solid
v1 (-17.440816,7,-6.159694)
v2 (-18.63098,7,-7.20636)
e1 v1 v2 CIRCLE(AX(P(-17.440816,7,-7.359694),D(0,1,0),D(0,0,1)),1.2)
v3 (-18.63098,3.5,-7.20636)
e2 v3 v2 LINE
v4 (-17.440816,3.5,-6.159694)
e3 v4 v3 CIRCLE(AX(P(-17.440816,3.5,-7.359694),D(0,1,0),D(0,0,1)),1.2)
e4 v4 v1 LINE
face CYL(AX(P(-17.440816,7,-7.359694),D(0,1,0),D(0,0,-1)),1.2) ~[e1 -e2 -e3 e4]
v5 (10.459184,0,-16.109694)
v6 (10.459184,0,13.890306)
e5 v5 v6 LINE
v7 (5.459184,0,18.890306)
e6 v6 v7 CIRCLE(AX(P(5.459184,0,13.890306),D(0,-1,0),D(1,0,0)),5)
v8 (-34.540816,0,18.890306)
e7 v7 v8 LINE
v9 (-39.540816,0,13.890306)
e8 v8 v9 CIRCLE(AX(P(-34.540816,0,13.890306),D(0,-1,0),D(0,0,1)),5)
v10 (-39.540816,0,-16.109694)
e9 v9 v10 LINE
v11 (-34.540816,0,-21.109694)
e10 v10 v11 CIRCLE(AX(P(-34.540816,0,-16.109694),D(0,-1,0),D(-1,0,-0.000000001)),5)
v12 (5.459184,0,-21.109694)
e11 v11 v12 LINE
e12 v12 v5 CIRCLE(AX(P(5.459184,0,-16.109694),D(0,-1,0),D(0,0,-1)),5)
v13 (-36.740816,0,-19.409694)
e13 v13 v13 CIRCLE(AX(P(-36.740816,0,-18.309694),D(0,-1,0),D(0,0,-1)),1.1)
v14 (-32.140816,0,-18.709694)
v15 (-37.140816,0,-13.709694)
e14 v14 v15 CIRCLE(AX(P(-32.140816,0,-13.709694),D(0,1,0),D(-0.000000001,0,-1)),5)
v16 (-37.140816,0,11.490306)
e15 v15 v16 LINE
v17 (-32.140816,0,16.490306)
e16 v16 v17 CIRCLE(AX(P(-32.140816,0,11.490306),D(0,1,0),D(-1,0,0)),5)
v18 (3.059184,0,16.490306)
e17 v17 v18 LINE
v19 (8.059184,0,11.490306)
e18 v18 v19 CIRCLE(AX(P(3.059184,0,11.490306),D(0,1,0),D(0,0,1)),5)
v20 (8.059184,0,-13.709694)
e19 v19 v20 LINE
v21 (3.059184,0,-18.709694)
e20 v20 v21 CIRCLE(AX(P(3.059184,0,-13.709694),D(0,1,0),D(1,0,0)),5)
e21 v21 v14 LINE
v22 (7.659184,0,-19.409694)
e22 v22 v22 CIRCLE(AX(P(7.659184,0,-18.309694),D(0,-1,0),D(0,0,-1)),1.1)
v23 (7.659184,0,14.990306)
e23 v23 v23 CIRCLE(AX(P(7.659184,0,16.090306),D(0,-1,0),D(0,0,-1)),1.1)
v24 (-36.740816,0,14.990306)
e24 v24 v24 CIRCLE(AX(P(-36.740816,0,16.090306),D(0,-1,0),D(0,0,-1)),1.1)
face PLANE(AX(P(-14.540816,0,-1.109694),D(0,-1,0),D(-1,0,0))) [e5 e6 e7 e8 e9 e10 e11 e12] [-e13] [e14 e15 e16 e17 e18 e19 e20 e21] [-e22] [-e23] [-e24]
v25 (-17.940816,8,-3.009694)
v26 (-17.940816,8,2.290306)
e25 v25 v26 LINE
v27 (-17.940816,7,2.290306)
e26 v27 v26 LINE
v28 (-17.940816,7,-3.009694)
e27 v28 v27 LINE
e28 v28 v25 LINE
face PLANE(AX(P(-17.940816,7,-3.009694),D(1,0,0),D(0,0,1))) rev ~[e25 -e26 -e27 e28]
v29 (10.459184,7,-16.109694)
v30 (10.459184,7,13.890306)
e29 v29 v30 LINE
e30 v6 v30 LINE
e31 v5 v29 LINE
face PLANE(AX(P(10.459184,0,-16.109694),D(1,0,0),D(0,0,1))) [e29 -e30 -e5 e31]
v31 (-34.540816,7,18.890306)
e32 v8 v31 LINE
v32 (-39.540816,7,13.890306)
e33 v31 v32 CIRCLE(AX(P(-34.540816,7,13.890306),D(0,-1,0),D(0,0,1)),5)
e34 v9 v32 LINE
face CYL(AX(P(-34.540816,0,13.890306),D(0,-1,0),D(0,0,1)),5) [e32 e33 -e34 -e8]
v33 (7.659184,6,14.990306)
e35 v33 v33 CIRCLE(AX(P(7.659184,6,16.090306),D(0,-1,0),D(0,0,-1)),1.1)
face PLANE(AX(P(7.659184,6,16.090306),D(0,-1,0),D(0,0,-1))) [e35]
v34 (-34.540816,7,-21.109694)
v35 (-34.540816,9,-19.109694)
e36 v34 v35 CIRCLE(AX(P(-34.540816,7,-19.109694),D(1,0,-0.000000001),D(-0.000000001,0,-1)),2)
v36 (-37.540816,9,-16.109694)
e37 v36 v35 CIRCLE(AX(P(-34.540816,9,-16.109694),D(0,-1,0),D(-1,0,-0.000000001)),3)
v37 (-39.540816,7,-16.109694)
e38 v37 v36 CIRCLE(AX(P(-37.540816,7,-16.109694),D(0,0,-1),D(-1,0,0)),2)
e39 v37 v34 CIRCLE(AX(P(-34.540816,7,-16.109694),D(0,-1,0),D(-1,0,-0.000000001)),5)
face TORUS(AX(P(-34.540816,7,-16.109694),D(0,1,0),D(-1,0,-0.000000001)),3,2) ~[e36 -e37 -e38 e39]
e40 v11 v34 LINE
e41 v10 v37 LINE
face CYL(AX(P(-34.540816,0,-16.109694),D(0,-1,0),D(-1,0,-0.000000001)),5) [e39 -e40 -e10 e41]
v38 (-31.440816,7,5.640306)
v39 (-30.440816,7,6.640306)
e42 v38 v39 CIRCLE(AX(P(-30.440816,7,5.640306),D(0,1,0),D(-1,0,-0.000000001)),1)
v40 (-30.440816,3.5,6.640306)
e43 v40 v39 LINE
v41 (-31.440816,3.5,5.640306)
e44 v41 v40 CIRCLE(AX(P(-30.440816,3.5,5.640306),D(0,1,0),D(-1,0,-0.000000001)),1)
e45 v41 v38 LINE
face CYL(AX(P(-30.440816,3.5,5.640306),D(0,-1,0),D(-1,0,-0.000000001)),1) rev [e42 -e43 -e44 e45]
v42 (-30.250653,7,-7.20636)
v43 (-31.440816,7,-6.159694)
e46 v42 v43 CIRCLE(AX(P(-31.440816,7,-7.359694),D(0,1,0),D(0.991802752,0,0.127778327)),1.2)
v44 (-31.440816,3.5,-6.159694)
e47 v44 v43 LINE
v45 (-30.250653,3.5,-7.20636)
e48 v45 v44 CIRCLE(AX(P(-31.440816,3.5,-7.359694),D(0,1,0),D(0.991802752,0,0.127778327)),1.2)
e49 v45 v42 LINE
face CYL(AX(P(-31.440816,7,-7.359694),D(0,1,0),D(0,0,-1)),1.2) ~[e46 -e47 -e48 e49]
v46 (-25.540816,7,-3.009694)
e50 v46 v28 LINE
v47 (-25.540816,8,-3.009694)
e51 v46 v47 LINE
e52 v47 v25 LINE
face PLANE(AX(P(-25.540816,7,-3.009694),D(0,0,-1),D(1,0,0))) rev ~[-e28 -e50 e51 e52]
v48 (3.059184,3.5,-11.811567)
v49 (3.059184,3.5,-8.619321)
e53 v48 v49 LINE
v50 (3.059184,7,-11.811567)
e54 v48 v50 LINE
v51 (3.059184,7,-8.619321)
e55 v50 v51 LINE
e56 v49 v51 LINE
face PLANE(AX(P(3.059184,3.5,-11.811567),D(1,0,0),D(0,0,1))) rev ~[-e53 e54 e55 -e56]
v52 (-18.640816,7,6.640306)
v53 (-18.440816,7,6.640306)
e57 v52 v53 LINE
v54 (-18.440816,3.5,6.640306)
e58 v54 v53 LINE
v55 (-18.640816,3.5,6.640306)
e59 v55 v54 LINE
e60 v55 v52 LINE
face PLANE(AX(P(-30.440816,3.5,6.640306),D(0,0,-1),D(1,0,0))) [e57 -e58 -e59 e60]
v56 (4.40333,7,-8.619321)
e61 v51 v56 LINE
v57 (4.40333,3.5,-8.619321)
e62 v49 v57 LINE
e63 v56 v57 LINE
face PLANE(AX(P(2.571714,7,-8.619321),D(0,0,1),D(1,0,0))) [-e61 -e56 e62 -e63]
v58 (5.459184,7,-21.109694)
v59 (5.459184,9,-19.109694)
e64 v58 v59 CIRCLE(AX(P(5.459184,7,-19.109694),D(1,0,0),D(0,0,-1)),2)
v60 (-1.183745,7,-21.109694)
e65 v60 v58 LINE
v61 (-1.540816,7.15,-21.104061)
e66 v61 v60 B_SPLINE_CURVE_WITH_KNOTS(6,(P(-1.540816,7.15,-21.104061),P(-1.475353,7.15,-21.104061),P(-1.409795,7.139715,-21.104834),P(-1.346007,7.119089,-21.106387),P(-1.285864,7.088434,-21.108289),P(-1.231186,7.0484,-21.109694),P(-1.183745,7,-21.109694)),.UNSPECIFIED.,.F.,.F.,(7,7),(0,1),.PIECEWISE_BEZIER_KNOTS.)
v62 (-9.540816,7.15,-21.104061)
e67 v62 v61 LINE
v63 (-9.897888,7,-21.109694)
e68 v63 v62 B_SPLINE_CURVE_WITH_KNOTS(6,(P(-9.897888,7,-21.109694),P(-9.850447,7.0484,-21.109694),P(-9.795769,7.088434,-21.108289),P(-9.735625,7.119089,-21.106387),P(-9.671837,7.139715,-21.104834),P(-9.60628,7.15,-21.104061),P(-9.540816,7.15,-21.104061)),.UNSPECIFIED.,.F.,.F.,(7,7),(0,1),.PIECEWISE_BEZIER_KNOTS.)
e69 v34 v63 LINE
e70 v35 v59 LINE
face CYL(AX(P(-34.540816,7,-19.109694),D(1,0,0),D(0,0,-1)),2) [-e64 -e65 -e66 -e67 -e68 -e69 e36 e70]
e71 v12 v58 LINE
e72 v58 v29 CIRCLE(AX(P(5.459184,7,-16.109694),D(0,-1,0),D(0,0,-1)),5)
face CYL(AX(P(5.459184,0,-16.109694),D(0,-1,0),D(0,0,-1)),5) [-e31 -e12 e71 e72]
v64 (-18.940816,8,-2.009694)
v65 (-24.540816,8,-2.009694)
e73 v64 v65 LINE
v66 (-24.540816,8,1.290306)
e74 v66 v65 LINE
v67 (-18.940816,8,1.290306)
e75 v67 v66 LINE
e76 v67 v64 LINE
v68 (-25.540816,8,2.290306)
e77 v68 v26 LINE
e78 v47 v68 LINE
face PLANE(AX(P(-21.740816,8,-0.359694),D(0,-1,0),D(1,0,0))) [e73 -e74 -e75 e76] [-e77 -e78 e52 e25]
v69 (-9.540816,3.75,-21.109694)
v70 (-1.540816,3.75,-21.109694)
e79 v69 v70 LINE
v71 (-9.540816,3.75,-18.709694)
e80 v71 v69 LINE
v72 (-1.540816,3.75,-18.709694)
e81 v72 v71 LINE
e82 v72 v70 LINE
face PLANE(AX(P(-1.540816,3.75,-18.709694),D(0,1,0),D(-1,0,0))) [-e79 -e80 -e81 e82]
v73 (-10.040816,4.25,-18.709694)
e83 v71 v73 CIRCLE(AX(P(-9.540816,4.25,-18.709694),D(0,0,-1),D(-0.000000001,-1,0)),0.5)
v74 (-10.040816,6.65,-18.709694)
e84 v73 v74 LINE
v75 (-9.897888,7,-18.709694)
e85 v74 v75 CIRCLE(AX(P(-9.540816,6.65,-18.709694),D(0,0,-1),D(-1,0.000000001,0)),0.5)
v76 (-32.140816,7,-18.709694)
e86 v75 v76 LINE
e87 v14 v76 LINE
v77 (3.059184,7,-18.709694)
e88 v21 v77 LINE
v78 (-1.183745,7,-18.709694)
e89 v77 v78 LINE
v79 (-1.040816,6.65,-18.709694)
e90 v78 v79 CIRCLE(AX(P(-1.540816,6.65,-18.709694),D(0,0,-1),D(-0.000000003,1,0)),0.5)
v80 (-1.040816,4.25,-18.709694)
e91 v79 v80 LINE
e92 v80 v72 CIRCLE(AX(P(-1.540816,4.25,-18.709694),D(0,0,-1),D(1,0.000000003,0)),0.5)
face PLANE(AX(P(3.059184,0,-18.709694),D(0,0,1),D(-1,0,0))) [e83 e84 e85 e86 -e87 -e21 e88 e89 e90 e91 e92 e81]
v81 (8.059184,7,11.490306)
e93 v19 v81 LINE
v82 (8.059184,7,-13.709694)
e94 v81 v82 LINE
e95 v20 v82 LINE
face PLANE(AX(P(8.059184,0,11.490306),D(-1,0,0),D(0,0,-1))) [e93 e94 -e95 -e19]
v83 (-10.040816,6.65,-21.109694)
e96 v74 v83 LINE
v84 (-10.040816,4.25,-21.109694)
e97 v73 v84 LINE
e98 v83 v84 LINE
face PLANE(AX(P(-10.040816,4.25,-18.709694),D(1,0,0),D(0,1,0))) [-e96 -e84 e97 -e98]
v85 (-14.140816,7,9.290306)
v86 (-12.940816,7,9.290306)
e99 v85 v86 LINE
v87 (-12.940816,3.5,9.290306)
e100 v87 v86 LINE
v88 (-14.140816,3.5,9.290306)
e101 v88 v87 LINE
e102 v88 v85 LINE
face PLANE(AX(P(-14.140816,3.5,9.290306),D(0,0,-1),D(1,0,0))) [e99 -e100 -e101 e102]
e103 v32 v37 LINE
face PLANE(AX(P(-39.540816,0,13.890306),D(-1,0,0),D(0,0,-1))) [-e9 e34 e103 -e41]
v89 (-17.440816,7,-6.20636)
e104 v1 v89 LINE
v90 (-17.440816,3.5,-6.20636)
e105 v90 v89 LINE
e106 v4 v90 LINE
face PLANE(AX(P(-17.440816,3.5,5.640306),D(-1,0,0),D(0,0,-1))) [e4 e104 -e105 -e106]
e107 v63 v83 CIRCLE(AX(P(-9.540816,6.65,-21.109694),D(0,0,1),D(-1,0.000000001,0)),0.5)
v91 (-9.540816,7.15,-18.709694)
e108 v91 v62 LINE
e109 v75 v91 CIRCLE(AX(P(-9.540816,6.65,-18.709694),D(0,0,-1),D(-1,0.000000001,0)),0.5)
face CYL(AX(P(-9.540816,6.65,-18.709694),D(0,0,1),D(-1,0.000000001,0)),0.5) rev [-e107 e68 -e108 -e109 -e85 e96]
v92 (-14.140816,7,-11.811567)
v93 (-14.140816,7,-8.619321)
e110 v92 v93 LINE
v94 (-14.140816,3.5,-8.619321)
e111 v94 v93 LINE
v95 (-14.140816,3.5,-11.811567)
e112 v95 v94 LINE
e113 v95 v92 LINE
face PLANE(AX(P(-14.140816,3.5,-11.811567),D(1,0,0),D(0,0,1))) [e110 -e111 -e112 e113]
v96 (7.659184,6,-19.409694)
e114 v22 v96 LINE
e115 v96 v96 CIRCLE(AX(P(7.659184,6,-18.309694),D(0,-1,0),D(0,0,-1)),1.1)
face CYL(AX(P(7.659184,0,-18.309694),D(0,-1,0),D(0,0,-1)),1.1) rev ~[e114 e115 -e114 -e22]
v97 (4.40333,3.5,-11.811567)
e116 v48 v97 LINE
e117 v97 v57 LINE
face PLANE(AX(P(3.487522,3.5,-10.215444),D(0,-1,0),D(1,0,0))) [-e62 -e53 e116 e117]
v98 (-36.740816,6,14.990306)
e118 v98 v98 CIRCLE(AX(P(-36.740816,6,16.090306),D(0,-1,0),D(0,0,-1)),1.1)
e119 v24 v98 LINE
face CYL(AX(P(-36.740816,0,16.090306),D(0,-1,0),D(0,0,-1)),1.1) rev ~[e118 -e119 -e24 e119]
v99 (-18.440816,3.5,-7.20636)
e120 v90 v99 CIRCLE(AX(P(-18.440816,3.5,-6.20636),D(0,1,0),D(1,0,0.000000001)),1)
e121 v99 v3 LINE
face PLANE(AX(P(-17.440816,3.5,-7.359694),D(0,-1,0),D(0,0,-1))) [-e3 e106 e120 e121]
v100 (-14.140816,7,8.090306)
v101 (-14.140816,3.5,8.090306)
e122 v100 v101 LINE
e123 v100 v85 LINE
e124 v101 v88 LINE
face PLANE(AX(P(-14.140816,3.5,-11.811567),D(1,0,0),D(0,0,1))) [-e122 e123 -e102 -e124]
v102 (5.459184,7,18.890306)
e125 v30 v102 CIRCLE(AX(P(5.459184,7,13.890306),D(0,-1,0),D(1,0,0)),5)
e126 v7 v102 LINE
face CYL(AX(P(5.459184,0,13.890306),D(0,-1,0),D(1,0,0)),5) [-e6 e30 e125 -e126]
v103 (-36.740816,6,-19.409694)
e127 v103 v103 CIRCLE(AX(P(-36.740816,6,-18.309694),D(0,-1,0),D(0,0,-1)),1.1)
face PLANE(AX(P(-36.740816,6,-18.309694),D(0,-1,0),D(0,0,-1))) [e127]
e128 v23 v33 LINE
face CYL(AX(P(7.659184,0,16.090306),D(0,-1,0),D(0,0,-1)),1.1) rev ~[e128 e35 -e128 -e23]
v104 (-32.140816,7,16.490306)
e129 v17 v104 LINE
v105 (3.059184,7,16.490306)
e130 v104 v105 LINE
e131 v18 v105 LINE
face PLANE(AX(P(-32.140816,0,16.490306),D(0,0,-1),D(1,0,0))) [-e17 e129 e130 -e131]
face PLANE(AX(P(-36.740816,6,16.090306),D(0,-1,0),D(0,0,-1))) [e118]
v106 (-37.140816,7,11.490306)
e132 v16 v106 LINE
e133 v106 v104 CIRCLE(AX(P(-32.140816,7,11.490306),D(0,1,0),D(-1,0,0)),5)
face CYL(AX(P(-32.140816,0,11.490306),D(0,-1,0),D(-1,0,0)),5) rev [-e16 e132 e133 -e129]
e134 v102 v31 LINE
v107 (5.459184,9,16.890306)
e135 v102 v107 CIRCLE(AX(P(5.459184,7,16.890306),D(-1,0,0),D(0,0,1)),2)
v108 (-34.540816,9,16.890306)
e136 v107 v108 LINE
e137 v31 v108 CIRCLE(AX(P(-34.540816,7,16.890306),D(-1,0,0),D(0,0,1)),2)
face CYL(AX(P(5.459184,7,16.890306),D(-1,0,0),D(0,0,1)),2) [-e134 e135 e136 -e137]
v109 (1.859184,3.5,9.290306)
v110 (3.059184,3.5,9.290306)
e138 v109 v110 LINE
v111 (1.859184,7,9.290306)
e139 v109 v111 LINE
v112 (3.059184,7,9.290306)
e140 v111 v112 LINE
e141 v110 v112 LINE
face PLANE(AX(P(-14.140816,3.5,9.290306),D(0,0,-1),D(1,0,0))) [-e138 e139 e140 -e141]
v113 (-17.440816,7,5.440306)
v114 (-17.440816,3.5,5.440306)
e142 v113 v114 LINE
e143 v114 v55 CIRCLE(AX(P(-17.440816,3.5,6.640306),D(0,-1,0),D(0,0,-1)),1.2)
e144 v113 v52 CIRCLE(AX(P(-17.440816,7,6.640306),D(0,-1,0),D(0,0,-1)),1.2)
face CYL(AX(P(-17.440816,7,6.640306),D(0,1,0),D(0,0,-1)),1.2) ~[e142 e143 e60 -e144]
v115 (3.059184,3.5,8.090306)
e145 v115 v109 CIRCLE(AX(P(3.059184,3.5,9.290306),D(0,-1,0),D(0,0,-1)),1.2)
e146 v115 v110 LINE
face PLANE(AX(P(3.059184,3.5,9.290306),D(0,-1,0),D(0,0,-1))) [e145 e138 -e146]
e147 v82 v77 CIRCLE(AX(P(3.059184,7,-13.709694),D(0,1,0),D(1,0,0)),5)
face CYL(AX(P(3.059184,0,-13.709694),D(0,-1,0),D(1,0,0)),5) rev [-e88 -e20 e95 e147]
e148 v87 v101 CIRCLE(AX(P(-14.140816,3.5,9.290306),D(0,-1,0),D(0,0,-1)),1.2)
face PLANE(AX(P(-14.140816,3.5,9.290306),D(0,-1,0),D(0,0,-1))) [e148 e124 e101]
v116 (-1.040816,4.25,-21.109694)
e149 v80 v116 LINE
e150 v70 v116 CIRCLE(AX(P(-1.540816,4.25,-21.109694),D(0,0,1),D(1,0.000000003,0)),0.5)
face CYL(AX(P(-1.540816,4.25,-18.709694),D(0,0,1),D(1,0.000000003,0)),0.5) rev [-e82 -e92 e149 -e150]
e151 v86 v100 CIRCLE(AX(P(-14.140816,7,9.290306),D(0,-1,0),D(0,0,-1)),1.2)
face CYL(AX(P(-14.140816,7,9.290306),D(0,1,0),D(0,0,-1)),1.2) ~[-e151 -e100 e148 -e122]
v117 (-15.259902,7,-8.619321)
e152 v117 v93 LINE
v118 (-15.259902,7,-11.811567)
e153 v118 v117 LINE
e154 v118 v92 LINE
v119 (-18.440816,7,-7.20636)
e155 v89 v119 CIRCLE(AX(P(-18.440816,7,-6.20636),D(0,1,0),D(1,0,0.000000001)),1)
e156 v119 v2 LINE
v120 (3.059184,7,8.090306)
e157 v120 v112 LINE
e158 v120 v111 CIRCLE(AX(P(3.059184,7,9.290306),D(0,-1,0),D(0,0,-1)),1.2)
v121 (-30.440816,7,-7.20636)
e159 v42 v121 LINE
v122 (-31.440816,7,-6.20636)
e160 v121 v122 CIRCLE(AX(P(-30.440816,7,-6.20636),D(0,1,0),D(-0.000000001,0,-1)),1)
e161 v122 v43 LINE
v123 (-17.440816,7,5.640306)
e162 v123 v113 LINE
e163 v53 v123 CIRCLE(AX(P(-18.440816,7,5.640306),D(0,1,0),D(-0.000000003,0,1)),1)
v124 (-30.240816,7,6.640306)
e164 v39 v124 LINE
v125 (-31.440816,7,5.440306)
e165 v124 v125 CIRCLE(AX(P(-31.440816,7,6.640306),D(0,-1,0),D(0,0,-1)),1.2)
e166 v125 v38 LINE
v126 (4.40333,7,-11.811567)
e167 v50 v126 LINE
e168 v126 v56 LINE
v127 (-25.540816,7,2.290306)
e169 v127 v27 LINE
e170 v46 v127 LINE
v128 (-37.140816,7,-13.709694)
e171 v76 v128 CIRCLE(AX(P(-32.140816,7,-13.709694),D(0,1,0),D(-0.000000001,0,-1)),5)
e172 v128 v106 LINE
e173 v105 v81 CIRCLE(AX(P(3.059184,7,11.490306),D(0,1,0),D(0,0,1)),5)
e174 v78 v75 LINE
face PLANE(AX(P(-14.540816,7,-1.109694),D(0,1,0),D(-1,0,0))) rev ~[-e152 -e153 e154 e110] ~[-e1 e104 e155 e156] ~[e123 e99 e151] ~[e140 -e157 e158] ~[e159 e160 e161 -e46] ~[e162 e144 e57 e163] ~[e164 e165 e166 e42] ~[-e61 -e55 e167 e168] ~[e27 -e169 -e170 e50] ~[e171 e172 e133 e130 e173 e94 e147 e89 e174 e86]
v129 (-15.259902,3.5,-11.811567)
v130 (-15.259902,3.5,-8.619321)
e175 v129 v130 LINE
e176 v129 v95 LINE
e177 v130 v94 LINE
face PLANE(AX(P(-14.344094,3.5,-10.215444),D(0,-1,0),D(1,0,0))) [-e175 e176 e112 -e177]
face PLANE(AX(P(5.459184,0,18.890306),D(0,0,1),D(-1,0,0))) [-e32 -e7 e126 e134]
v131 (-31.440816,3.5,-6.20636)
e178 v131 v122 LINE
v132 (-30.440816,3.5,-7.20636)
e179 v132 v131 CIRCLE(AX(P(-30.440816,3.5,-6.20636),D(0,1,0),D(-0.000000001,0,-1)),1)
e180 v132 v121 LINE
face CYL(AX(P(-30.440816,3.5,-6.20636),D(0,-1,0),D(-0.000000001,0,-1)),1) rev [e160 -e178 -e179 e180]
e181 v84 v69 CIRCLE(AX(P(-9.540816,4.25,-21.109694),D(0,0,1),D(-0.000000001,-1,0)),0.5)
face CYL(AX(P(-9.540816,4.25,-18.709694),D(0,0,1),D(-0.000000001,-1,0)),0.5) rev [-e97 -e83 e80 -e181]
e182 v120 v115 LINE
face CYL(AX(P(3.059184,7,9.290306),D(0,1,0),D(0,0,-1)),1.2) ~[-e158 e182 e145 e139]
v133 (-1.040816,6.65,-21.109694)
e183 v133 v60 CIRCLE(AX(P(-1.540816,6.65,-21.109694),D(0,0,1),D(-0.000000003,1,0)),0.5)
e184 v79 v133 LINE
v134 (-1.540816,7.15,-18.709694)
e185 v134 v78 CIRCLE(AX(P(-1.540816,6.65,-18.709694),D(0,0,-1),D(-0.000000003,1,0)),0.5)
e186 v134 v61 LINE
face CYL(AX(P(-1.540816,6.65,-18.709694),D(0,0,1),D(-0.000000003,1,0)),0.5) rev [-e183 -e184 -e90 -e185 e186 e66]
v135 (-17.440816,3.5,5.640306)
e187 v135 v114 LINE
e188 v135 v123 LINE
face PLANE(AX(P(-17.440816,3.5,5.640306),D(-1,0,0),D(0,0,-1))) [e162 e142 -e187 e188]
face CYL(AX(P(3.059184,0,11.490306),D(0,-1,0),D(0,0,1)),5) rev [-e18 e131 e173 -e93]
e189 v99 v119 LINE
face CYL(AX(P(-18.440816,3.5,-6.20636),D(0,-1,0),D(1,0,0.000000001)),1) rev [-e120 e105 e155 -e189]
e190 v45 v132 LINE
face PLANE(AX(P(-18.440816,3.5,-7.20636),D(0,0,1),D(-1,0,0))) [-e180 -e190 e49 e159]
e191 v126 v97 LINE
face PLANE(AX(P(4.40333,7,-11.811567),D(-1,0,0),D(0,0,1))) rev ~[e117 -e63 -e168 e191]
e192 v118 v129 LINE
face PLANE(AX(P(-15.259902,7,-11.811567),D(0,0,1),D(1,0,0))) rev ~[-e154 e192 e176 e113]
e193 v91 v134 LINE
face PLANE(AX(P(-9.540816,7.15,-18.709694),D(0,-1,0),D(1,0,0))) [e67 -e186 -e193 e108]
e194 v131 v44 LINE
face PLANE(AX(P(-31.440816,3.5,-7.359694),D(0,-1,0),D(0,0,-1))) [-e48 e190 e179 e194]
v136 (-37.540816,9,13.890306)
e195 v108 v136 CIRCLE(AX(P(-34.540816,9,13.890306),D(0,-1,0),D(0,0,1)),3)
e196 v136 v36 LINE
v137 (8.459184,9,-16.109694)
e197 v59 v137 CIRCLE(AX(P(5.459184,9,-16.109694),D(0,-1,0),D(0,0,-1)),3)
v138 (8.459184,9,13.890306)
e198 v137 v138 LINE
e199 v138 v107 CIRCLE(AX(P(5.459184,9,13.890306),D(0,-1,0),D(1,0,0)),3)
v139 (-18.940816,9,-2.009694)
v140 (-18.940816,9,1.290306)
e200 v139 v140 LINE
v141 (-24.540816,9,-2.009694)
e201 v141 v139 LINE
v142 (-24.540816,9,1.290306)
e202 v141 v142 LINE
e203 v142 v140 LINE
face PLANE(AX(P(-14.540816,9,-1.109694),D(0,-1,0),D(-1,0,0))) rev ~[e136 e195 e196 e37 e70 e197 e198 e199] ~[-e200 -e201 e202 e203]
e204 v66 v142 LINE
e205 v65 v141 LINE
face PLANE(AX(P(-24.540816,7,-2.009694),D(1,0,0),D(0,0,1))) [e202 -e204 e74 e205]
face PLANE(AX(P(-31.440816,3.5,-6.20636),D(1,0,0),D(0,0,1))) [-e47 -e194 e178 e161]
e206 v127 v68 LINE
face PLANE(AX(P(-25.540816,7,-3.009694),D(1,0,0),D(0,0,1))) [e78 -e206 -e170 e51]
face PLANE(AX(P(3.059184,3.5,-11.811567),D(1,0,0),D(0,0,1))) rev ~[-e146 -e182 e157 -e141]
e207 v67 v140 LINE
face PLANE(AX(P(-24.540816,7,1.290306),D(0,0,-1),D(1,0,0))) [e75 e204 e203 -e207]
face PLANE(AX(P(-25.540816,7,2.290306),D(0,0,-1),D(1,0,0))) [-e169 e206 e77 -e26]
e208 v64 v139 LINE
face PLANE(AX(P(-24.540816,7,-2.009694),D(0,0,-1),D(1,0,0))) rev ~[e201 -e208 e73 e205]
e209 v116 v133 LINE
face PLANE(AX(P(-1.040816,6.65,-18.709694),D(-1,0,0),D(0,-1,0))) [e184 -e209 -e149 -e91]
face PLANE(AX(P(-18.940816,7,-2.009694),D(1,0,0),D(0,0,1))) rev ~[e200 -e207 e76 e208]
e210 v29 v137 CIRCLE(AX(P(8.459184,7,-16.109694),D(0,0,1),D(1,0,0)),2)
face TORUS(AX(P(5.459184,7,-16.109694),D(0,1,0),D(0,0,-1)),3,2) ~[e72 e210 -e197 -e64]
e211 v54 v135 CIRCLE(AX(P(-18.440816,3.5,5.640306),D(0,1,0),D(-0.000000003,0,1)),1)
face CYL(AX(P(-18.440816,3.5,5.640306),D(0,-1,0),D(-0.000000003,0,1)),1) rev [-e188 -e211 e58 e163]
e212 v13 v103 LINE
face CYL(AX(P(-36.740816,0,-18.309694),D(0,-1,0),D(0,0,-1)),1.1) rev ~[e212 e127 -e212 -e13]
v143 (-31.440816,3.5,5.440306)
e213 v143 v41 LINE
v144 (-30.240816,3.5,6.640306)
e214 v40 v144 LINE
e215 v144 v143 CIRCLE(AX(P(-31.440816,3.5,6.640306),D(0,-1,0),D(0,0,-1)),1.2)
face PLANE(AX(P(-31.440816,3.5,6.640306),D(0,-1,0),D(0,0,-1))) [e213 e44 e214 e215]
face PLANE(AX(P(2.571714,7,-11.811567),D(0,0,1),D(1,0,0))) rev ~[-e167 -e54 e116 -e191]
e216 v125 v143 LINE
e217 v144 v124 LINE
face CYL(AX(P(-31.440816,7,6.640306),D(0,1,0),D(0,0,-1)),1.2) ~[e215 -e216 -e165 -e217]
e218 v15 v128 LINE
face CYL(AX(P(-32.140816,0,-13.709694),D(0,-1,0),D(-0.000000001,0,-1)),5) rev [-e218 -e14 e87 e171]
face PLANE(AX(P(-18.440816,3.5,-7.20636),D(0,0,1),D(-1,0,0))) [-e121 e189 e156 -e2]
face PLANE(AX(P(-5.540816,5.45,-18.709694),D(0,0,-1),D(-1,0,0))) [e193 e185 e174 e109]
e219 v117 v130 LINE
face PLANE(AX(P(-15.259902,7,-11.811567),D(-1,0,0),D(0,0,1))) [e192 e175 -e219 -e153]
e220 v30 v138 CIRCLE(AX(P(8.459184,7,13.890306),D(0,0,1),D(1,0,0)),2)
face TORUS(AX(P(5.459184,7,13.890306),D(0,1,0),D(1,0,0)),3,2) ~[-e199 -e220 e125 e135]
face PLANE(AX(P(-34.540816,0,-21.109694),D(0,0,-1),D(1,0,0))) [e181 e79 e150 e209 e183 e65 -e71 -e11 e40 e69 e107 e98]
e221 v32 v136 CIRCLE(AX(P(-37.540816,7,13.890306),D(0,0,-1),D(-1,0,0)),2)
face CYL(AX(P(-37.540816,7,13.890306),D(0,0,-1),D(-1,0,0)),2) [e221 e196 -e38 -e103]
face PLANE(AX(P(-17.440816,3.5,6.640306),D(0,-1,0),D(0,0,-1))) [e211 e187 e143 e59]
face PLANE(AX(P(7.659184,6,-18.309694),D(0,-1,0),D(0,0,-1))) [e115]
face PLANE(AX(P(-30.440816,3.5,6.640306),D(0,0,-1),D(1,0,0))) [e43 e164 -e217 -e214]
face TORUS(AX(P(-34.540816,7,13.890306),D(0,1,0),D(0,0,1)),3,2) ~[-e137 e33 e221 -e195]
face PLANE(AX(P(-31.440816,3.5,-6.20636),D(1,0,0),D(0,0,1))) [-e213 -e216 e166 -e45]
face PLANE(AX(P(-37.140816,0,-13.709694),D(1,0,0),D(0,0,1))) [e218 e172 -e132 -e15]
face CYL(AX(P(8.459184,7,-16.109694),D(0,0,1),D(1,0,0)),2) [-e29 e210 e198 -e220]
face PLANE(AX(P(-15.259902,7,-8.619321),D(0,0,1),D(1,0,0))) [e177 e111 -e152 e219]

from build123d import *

# Parameters (mm, degrees)
BOSS_EXTRUDE1_DEPTH = 9
FILLET1_R           = 2
CUT_EXTRUDE1_DEPTH  = 7
SKETCH3_R           = 1.1
CUT_EXTRUDE2_DEPTH  = 6
SKETCH4_W           = 5.6
SKETCH4_H           = 3.3
CUT_EXTRUDE3_DEPTH  = 46.366235587
SKETCH5_W           = 7.6
SKETCH5_H           = 5.3
CUT_EXTRUDE4_DEPTH  = 1
SKETCH6_R           = 1.2
BOSS_EXTRUDE2_DEPTH = 3.5
CUT_EXTRUDE5_DEPTH  = 3.5
SKETCH9_R           = 1.2
SKETCH9_W           = 1.831616398
SKETCH9_H           = 3.192245721
SKETCH9_W_2         = 1.831616397
BOSS_EXTRUDE3_DEPTH = 3.5
SKETCH10_W          = 17.2
SKETCH10_H          = 21.10187295
CUT_EXTRUDE7_DEPTH  = 3.5
CUT_EXTRUDE8_DEPTH  = 3.5


with BuildPart() as part:
    # Sketch1 → Boss-Extrude1 (new body)
    with BuildSketch(Plane(origin=(0, 0, 0), x_dir=(1, 0, 0), z_dir=(0, 1, 0))):
        with BuildLine():
            Line((-34.540816327, 21.109693878), (5.459183673, 21.109693878))
            ThreePointArc((5.459183673, 21.109693878), (8.994717579, 19.645227783), (10.459183673, 16.109693878))
            Line((10.459183673, 16.109693878), (10.459183673, -13.890306122))
            ThreePointArc((10.459183673, -13.890306122), (8.994717579, -17.425840028), (5.459183673, -18.890306122))
            Line((5.459183673, -18.890306122), (-34.540816327, -18.890306122))
            ThreePointArc((-34.540816327, -18.890306122), (-38.076350232, -17.425840028), (-39.540816327, -13.890306122))
            Line((-39.540816327, -13.890306122), (-39.540816327, 16.109693878))
            ThreePointArc((-39.540816327, 16.109693878), (-38.076350232, 19.645227783), (-34.540816327, 21.109693878))
        make_face()
    extrude(amount=BOSS_EXTRUDE1_DEPTH)

    # Fillet1
    fillet1_edges = [part.edges().sort_by_distance(p)[0] for p in [
        (8.994717579, 9, -19.645227783),
        (-14.540816327, 9, -21.109693878),
        (-38.076350232, 9, -19.645227783),
        (-39.540816327, 9, -1.109693878),
        (-38.076350232, 9, 17.425840028),
        (-14.540816327, 9, 18.890306122),
        (8.994717579, 9, 17.425840028),
        (10.459183673, 9, -1.109693878),
    ]]
    fillet(fillet1_edges, radius=FILLET1_R)

    # Sketch2 → Cut-Extrude1 (cut)
    with BuildSketch(Plane.XZ):
        with BuildLine():
            Line((-32.140816327, 16.490306122), (3.059183673, 16.490306122))
            ThreePointArc((3.059183673, 16.490306122), (6.594717579, 15.025840028), (8.059183673, 11.490306122))
            Line((8.059183673, 11.490306122), (8.059183673, -13.709693878))
            ThreePointArc((8.059183673, -13.709693878), (6.594717579, -17.245227783), (3.059183673, -18.709693878))
            Line((3.059183673, -18.709693878), (-32.140816327, -18.709693878))
            ThreePointArc((-32.140816327, -18.709693878), (-35.676350232, -17.245227783), (-37.140816327, -13.709693878))
            Line((-37.140816327, -13.709693878), (-37.140816327, 11.490306122))
            ThreePointArc((-37.140816327, 11.490306122), (-35.676350232, 15.025840028), (-32.140816327, 16.490306122))
        make_face()
    extrude(amount=-CUT_EXTRUDE1_DEPTH, mode=Mode.SUBTRACT)

    # Sketch3 → Cut-Extrude2 (cut)
    with BuildSketch(Plane.XZ):
        with Locations(Location((7.659183673, 16.090306122, 0), (0, 0, 270))):
            Circle(SKETCH3_R)
        with Locations(Location((-36.740816327, 16.090306122, 0), (0, 0, 270))):
            Circle(SKETCH3_R)
        with Locations(Location((-36.740816327, -18.309693878, 0), (0, 0, 270))):
            Circle(SKETCH3_R)
        with Locations(Location((7.659183673, -18.309693878, 0), (0, 0, 270))):
            Circle(SKETCH3_R)
    extrude(amount=-CUT_EXTRUDE2_DEPTH, mode=Mode.SUBTRACT)

    # Sketch4 → Cut-Extrude3 (cut, through all)
    with BuildSketch(Plane.XZ.offset(-7)):
        with Locations((-21.740816327, -0.359693878)):
            Rectangle(SKETCH4_W, SKETCH4_H)
    extrude(amount=-CUT_EXTRUDE3_DEPTH, mode=Mode.SUBTRACT)

    # Sketch5 → Cut-Extrude4 (cut)
    with BuildSketch(Plane.XZ.offset(-7)):
        with Locations((-21.740816327, -0.359693878)):
            Rectangle(SKETCH5_W, SKETCH5_H)
    extrude(amount=-CUT_EXTRUDE4_DEPTH, mode=Mode.SUBTRACT)

    # Sketch6 → Boss-Extrude2 (add)
    with BuildSketch(Plane.XZ.offset(-7)):
        with Locations(Location((-17.440816327, 6.640306122, 0), (0, 0, 270))):
            Circle(SKETCH6_R)
        with Locations(Location((-31.440816327, 6.640306122, 0), (0, 0, 270))):
            Circle(SKETCH6_R)
        with Locations(Location((-31.440816327, -7.359693878, 0), (0, 0, 270))):
            Circle(SKETCH6_R)
        with Locations(Location((-17.440816327, -7.359693878, 0), (0, 0, 270))):
            Circle(SKETCH6_R)
    extrude(amount=BOSS_EXTRUDE2_DEPTH)

    # Sketch7 → Cut-Extrude5 (cut)
    with BuildSketch(Plane.XZ.offset(-3.5)):
        with BuildLine():
            Line((-30.440816327, 6.640306122), (-18.440816327, 6.640306122))
            ThreePointArc((-18.440816327, 6.640306122), (-17.733709545, 6.347412904), (-17.440816327, 5.640306122))
            Line((-17.440816327, 5.640306122), (-17.440816327, -6.206359886))
            ThreePointArc((-17.440816327, -6.206359886), (-17.733709545, -6.913466667), (-18.440816327, -7.206359886))
            Line((-18.440816327, -7.206359886), (-30.440816327, -7.206359886))
            ThreePointArc((-30.440816327, -7.206359886), (-31.147923108, -6.913466667), (-31.440816327, -6.206359886))
            Line((-31.440816327, -6.206359886), (-31.440816327, 5.640306122))
            ThreePointArc((-31.440816327, 5.640306122), (-31.147923108, 6.347412904), (-30.440816327, 6.640306122))
        make_face()
    extrude(amount=-CUT_EXTRUDE5_DEPTH, mode=Mode.SUBTRACT)

    # Sketch9 → Boss-Extrude3 (add)
    with BuildSketch(Plane.XZ.offset(-7)):
        with Locations(Location((3.059183673, 9.290306122, 0), (0, 0, 270))):
            Circle(SKETCH9_R)
        with Locations(Location((-14.140816327, 9.290306122, 0), (0, 0, 270))):
            Circle(SKETCH9_R)
        with Locations((-14.344094184, -10.215443968)):
            Rectangle(SKETCH9_W, SKETCH9_H)
        with Locations((3.487522214, -10.215443968)):
            Rectangle(SKETCH9_W_2, SKETCH9_H)
    extrude(amount=BOSS_EXTRUDE3_DEPTH)

    # Sketch10 → Cut-Extrude7 (cut)
    with BuildSketch(Plane.XZ.offset(-3.5)):
        with Locations((-5.540816327, -1.260630353)):
            Rectangle(SKETCH10_W, SKETCH10_H)
    extrude(amount=-CUT_EXTRUDE7_DEPTH, mode=Mode.SUBTRACT)

    # Sketch11 → Cut-Extrude8 (cut)
    with BuildSketch(Plane.XY.offset(-18.709693878)):
        with BuildLine():
            Line((-9.540816327, 7.15), (-1.540816327, 7.15))
            ThreePointArc((-1.540816327, 7.15), (-1.187262936, 7.003553391), (-1.040816327, 6.65))
            Line((-1.040816327, 6.65), (-1.040816327, 4.25))
            ThreePointArc((-1.040816327, 4.25), (-1.187262936, 3.896446609), (-1.540816327, 3.75))
            Line((-1.540816327, 3.75), (-9.540816327, 3.75))
            ThreePointArc((-9.540816327, 3.75), (-9.894369717, 3.896446609), (-10.040816327, 4.25))
            Line((-10.040816327, 4.25), (-10.040816327, 6.65))
            ThreePointArc((-10.040816327, 6.65), (-9.894369717, 7.003553391), (-9.540816327, 7.15))
        make_face()
    extrude(amount=-CUT_EXTRUDE8_DEPTH, mode=Mode.SUBTRACT)


solid = part.part
